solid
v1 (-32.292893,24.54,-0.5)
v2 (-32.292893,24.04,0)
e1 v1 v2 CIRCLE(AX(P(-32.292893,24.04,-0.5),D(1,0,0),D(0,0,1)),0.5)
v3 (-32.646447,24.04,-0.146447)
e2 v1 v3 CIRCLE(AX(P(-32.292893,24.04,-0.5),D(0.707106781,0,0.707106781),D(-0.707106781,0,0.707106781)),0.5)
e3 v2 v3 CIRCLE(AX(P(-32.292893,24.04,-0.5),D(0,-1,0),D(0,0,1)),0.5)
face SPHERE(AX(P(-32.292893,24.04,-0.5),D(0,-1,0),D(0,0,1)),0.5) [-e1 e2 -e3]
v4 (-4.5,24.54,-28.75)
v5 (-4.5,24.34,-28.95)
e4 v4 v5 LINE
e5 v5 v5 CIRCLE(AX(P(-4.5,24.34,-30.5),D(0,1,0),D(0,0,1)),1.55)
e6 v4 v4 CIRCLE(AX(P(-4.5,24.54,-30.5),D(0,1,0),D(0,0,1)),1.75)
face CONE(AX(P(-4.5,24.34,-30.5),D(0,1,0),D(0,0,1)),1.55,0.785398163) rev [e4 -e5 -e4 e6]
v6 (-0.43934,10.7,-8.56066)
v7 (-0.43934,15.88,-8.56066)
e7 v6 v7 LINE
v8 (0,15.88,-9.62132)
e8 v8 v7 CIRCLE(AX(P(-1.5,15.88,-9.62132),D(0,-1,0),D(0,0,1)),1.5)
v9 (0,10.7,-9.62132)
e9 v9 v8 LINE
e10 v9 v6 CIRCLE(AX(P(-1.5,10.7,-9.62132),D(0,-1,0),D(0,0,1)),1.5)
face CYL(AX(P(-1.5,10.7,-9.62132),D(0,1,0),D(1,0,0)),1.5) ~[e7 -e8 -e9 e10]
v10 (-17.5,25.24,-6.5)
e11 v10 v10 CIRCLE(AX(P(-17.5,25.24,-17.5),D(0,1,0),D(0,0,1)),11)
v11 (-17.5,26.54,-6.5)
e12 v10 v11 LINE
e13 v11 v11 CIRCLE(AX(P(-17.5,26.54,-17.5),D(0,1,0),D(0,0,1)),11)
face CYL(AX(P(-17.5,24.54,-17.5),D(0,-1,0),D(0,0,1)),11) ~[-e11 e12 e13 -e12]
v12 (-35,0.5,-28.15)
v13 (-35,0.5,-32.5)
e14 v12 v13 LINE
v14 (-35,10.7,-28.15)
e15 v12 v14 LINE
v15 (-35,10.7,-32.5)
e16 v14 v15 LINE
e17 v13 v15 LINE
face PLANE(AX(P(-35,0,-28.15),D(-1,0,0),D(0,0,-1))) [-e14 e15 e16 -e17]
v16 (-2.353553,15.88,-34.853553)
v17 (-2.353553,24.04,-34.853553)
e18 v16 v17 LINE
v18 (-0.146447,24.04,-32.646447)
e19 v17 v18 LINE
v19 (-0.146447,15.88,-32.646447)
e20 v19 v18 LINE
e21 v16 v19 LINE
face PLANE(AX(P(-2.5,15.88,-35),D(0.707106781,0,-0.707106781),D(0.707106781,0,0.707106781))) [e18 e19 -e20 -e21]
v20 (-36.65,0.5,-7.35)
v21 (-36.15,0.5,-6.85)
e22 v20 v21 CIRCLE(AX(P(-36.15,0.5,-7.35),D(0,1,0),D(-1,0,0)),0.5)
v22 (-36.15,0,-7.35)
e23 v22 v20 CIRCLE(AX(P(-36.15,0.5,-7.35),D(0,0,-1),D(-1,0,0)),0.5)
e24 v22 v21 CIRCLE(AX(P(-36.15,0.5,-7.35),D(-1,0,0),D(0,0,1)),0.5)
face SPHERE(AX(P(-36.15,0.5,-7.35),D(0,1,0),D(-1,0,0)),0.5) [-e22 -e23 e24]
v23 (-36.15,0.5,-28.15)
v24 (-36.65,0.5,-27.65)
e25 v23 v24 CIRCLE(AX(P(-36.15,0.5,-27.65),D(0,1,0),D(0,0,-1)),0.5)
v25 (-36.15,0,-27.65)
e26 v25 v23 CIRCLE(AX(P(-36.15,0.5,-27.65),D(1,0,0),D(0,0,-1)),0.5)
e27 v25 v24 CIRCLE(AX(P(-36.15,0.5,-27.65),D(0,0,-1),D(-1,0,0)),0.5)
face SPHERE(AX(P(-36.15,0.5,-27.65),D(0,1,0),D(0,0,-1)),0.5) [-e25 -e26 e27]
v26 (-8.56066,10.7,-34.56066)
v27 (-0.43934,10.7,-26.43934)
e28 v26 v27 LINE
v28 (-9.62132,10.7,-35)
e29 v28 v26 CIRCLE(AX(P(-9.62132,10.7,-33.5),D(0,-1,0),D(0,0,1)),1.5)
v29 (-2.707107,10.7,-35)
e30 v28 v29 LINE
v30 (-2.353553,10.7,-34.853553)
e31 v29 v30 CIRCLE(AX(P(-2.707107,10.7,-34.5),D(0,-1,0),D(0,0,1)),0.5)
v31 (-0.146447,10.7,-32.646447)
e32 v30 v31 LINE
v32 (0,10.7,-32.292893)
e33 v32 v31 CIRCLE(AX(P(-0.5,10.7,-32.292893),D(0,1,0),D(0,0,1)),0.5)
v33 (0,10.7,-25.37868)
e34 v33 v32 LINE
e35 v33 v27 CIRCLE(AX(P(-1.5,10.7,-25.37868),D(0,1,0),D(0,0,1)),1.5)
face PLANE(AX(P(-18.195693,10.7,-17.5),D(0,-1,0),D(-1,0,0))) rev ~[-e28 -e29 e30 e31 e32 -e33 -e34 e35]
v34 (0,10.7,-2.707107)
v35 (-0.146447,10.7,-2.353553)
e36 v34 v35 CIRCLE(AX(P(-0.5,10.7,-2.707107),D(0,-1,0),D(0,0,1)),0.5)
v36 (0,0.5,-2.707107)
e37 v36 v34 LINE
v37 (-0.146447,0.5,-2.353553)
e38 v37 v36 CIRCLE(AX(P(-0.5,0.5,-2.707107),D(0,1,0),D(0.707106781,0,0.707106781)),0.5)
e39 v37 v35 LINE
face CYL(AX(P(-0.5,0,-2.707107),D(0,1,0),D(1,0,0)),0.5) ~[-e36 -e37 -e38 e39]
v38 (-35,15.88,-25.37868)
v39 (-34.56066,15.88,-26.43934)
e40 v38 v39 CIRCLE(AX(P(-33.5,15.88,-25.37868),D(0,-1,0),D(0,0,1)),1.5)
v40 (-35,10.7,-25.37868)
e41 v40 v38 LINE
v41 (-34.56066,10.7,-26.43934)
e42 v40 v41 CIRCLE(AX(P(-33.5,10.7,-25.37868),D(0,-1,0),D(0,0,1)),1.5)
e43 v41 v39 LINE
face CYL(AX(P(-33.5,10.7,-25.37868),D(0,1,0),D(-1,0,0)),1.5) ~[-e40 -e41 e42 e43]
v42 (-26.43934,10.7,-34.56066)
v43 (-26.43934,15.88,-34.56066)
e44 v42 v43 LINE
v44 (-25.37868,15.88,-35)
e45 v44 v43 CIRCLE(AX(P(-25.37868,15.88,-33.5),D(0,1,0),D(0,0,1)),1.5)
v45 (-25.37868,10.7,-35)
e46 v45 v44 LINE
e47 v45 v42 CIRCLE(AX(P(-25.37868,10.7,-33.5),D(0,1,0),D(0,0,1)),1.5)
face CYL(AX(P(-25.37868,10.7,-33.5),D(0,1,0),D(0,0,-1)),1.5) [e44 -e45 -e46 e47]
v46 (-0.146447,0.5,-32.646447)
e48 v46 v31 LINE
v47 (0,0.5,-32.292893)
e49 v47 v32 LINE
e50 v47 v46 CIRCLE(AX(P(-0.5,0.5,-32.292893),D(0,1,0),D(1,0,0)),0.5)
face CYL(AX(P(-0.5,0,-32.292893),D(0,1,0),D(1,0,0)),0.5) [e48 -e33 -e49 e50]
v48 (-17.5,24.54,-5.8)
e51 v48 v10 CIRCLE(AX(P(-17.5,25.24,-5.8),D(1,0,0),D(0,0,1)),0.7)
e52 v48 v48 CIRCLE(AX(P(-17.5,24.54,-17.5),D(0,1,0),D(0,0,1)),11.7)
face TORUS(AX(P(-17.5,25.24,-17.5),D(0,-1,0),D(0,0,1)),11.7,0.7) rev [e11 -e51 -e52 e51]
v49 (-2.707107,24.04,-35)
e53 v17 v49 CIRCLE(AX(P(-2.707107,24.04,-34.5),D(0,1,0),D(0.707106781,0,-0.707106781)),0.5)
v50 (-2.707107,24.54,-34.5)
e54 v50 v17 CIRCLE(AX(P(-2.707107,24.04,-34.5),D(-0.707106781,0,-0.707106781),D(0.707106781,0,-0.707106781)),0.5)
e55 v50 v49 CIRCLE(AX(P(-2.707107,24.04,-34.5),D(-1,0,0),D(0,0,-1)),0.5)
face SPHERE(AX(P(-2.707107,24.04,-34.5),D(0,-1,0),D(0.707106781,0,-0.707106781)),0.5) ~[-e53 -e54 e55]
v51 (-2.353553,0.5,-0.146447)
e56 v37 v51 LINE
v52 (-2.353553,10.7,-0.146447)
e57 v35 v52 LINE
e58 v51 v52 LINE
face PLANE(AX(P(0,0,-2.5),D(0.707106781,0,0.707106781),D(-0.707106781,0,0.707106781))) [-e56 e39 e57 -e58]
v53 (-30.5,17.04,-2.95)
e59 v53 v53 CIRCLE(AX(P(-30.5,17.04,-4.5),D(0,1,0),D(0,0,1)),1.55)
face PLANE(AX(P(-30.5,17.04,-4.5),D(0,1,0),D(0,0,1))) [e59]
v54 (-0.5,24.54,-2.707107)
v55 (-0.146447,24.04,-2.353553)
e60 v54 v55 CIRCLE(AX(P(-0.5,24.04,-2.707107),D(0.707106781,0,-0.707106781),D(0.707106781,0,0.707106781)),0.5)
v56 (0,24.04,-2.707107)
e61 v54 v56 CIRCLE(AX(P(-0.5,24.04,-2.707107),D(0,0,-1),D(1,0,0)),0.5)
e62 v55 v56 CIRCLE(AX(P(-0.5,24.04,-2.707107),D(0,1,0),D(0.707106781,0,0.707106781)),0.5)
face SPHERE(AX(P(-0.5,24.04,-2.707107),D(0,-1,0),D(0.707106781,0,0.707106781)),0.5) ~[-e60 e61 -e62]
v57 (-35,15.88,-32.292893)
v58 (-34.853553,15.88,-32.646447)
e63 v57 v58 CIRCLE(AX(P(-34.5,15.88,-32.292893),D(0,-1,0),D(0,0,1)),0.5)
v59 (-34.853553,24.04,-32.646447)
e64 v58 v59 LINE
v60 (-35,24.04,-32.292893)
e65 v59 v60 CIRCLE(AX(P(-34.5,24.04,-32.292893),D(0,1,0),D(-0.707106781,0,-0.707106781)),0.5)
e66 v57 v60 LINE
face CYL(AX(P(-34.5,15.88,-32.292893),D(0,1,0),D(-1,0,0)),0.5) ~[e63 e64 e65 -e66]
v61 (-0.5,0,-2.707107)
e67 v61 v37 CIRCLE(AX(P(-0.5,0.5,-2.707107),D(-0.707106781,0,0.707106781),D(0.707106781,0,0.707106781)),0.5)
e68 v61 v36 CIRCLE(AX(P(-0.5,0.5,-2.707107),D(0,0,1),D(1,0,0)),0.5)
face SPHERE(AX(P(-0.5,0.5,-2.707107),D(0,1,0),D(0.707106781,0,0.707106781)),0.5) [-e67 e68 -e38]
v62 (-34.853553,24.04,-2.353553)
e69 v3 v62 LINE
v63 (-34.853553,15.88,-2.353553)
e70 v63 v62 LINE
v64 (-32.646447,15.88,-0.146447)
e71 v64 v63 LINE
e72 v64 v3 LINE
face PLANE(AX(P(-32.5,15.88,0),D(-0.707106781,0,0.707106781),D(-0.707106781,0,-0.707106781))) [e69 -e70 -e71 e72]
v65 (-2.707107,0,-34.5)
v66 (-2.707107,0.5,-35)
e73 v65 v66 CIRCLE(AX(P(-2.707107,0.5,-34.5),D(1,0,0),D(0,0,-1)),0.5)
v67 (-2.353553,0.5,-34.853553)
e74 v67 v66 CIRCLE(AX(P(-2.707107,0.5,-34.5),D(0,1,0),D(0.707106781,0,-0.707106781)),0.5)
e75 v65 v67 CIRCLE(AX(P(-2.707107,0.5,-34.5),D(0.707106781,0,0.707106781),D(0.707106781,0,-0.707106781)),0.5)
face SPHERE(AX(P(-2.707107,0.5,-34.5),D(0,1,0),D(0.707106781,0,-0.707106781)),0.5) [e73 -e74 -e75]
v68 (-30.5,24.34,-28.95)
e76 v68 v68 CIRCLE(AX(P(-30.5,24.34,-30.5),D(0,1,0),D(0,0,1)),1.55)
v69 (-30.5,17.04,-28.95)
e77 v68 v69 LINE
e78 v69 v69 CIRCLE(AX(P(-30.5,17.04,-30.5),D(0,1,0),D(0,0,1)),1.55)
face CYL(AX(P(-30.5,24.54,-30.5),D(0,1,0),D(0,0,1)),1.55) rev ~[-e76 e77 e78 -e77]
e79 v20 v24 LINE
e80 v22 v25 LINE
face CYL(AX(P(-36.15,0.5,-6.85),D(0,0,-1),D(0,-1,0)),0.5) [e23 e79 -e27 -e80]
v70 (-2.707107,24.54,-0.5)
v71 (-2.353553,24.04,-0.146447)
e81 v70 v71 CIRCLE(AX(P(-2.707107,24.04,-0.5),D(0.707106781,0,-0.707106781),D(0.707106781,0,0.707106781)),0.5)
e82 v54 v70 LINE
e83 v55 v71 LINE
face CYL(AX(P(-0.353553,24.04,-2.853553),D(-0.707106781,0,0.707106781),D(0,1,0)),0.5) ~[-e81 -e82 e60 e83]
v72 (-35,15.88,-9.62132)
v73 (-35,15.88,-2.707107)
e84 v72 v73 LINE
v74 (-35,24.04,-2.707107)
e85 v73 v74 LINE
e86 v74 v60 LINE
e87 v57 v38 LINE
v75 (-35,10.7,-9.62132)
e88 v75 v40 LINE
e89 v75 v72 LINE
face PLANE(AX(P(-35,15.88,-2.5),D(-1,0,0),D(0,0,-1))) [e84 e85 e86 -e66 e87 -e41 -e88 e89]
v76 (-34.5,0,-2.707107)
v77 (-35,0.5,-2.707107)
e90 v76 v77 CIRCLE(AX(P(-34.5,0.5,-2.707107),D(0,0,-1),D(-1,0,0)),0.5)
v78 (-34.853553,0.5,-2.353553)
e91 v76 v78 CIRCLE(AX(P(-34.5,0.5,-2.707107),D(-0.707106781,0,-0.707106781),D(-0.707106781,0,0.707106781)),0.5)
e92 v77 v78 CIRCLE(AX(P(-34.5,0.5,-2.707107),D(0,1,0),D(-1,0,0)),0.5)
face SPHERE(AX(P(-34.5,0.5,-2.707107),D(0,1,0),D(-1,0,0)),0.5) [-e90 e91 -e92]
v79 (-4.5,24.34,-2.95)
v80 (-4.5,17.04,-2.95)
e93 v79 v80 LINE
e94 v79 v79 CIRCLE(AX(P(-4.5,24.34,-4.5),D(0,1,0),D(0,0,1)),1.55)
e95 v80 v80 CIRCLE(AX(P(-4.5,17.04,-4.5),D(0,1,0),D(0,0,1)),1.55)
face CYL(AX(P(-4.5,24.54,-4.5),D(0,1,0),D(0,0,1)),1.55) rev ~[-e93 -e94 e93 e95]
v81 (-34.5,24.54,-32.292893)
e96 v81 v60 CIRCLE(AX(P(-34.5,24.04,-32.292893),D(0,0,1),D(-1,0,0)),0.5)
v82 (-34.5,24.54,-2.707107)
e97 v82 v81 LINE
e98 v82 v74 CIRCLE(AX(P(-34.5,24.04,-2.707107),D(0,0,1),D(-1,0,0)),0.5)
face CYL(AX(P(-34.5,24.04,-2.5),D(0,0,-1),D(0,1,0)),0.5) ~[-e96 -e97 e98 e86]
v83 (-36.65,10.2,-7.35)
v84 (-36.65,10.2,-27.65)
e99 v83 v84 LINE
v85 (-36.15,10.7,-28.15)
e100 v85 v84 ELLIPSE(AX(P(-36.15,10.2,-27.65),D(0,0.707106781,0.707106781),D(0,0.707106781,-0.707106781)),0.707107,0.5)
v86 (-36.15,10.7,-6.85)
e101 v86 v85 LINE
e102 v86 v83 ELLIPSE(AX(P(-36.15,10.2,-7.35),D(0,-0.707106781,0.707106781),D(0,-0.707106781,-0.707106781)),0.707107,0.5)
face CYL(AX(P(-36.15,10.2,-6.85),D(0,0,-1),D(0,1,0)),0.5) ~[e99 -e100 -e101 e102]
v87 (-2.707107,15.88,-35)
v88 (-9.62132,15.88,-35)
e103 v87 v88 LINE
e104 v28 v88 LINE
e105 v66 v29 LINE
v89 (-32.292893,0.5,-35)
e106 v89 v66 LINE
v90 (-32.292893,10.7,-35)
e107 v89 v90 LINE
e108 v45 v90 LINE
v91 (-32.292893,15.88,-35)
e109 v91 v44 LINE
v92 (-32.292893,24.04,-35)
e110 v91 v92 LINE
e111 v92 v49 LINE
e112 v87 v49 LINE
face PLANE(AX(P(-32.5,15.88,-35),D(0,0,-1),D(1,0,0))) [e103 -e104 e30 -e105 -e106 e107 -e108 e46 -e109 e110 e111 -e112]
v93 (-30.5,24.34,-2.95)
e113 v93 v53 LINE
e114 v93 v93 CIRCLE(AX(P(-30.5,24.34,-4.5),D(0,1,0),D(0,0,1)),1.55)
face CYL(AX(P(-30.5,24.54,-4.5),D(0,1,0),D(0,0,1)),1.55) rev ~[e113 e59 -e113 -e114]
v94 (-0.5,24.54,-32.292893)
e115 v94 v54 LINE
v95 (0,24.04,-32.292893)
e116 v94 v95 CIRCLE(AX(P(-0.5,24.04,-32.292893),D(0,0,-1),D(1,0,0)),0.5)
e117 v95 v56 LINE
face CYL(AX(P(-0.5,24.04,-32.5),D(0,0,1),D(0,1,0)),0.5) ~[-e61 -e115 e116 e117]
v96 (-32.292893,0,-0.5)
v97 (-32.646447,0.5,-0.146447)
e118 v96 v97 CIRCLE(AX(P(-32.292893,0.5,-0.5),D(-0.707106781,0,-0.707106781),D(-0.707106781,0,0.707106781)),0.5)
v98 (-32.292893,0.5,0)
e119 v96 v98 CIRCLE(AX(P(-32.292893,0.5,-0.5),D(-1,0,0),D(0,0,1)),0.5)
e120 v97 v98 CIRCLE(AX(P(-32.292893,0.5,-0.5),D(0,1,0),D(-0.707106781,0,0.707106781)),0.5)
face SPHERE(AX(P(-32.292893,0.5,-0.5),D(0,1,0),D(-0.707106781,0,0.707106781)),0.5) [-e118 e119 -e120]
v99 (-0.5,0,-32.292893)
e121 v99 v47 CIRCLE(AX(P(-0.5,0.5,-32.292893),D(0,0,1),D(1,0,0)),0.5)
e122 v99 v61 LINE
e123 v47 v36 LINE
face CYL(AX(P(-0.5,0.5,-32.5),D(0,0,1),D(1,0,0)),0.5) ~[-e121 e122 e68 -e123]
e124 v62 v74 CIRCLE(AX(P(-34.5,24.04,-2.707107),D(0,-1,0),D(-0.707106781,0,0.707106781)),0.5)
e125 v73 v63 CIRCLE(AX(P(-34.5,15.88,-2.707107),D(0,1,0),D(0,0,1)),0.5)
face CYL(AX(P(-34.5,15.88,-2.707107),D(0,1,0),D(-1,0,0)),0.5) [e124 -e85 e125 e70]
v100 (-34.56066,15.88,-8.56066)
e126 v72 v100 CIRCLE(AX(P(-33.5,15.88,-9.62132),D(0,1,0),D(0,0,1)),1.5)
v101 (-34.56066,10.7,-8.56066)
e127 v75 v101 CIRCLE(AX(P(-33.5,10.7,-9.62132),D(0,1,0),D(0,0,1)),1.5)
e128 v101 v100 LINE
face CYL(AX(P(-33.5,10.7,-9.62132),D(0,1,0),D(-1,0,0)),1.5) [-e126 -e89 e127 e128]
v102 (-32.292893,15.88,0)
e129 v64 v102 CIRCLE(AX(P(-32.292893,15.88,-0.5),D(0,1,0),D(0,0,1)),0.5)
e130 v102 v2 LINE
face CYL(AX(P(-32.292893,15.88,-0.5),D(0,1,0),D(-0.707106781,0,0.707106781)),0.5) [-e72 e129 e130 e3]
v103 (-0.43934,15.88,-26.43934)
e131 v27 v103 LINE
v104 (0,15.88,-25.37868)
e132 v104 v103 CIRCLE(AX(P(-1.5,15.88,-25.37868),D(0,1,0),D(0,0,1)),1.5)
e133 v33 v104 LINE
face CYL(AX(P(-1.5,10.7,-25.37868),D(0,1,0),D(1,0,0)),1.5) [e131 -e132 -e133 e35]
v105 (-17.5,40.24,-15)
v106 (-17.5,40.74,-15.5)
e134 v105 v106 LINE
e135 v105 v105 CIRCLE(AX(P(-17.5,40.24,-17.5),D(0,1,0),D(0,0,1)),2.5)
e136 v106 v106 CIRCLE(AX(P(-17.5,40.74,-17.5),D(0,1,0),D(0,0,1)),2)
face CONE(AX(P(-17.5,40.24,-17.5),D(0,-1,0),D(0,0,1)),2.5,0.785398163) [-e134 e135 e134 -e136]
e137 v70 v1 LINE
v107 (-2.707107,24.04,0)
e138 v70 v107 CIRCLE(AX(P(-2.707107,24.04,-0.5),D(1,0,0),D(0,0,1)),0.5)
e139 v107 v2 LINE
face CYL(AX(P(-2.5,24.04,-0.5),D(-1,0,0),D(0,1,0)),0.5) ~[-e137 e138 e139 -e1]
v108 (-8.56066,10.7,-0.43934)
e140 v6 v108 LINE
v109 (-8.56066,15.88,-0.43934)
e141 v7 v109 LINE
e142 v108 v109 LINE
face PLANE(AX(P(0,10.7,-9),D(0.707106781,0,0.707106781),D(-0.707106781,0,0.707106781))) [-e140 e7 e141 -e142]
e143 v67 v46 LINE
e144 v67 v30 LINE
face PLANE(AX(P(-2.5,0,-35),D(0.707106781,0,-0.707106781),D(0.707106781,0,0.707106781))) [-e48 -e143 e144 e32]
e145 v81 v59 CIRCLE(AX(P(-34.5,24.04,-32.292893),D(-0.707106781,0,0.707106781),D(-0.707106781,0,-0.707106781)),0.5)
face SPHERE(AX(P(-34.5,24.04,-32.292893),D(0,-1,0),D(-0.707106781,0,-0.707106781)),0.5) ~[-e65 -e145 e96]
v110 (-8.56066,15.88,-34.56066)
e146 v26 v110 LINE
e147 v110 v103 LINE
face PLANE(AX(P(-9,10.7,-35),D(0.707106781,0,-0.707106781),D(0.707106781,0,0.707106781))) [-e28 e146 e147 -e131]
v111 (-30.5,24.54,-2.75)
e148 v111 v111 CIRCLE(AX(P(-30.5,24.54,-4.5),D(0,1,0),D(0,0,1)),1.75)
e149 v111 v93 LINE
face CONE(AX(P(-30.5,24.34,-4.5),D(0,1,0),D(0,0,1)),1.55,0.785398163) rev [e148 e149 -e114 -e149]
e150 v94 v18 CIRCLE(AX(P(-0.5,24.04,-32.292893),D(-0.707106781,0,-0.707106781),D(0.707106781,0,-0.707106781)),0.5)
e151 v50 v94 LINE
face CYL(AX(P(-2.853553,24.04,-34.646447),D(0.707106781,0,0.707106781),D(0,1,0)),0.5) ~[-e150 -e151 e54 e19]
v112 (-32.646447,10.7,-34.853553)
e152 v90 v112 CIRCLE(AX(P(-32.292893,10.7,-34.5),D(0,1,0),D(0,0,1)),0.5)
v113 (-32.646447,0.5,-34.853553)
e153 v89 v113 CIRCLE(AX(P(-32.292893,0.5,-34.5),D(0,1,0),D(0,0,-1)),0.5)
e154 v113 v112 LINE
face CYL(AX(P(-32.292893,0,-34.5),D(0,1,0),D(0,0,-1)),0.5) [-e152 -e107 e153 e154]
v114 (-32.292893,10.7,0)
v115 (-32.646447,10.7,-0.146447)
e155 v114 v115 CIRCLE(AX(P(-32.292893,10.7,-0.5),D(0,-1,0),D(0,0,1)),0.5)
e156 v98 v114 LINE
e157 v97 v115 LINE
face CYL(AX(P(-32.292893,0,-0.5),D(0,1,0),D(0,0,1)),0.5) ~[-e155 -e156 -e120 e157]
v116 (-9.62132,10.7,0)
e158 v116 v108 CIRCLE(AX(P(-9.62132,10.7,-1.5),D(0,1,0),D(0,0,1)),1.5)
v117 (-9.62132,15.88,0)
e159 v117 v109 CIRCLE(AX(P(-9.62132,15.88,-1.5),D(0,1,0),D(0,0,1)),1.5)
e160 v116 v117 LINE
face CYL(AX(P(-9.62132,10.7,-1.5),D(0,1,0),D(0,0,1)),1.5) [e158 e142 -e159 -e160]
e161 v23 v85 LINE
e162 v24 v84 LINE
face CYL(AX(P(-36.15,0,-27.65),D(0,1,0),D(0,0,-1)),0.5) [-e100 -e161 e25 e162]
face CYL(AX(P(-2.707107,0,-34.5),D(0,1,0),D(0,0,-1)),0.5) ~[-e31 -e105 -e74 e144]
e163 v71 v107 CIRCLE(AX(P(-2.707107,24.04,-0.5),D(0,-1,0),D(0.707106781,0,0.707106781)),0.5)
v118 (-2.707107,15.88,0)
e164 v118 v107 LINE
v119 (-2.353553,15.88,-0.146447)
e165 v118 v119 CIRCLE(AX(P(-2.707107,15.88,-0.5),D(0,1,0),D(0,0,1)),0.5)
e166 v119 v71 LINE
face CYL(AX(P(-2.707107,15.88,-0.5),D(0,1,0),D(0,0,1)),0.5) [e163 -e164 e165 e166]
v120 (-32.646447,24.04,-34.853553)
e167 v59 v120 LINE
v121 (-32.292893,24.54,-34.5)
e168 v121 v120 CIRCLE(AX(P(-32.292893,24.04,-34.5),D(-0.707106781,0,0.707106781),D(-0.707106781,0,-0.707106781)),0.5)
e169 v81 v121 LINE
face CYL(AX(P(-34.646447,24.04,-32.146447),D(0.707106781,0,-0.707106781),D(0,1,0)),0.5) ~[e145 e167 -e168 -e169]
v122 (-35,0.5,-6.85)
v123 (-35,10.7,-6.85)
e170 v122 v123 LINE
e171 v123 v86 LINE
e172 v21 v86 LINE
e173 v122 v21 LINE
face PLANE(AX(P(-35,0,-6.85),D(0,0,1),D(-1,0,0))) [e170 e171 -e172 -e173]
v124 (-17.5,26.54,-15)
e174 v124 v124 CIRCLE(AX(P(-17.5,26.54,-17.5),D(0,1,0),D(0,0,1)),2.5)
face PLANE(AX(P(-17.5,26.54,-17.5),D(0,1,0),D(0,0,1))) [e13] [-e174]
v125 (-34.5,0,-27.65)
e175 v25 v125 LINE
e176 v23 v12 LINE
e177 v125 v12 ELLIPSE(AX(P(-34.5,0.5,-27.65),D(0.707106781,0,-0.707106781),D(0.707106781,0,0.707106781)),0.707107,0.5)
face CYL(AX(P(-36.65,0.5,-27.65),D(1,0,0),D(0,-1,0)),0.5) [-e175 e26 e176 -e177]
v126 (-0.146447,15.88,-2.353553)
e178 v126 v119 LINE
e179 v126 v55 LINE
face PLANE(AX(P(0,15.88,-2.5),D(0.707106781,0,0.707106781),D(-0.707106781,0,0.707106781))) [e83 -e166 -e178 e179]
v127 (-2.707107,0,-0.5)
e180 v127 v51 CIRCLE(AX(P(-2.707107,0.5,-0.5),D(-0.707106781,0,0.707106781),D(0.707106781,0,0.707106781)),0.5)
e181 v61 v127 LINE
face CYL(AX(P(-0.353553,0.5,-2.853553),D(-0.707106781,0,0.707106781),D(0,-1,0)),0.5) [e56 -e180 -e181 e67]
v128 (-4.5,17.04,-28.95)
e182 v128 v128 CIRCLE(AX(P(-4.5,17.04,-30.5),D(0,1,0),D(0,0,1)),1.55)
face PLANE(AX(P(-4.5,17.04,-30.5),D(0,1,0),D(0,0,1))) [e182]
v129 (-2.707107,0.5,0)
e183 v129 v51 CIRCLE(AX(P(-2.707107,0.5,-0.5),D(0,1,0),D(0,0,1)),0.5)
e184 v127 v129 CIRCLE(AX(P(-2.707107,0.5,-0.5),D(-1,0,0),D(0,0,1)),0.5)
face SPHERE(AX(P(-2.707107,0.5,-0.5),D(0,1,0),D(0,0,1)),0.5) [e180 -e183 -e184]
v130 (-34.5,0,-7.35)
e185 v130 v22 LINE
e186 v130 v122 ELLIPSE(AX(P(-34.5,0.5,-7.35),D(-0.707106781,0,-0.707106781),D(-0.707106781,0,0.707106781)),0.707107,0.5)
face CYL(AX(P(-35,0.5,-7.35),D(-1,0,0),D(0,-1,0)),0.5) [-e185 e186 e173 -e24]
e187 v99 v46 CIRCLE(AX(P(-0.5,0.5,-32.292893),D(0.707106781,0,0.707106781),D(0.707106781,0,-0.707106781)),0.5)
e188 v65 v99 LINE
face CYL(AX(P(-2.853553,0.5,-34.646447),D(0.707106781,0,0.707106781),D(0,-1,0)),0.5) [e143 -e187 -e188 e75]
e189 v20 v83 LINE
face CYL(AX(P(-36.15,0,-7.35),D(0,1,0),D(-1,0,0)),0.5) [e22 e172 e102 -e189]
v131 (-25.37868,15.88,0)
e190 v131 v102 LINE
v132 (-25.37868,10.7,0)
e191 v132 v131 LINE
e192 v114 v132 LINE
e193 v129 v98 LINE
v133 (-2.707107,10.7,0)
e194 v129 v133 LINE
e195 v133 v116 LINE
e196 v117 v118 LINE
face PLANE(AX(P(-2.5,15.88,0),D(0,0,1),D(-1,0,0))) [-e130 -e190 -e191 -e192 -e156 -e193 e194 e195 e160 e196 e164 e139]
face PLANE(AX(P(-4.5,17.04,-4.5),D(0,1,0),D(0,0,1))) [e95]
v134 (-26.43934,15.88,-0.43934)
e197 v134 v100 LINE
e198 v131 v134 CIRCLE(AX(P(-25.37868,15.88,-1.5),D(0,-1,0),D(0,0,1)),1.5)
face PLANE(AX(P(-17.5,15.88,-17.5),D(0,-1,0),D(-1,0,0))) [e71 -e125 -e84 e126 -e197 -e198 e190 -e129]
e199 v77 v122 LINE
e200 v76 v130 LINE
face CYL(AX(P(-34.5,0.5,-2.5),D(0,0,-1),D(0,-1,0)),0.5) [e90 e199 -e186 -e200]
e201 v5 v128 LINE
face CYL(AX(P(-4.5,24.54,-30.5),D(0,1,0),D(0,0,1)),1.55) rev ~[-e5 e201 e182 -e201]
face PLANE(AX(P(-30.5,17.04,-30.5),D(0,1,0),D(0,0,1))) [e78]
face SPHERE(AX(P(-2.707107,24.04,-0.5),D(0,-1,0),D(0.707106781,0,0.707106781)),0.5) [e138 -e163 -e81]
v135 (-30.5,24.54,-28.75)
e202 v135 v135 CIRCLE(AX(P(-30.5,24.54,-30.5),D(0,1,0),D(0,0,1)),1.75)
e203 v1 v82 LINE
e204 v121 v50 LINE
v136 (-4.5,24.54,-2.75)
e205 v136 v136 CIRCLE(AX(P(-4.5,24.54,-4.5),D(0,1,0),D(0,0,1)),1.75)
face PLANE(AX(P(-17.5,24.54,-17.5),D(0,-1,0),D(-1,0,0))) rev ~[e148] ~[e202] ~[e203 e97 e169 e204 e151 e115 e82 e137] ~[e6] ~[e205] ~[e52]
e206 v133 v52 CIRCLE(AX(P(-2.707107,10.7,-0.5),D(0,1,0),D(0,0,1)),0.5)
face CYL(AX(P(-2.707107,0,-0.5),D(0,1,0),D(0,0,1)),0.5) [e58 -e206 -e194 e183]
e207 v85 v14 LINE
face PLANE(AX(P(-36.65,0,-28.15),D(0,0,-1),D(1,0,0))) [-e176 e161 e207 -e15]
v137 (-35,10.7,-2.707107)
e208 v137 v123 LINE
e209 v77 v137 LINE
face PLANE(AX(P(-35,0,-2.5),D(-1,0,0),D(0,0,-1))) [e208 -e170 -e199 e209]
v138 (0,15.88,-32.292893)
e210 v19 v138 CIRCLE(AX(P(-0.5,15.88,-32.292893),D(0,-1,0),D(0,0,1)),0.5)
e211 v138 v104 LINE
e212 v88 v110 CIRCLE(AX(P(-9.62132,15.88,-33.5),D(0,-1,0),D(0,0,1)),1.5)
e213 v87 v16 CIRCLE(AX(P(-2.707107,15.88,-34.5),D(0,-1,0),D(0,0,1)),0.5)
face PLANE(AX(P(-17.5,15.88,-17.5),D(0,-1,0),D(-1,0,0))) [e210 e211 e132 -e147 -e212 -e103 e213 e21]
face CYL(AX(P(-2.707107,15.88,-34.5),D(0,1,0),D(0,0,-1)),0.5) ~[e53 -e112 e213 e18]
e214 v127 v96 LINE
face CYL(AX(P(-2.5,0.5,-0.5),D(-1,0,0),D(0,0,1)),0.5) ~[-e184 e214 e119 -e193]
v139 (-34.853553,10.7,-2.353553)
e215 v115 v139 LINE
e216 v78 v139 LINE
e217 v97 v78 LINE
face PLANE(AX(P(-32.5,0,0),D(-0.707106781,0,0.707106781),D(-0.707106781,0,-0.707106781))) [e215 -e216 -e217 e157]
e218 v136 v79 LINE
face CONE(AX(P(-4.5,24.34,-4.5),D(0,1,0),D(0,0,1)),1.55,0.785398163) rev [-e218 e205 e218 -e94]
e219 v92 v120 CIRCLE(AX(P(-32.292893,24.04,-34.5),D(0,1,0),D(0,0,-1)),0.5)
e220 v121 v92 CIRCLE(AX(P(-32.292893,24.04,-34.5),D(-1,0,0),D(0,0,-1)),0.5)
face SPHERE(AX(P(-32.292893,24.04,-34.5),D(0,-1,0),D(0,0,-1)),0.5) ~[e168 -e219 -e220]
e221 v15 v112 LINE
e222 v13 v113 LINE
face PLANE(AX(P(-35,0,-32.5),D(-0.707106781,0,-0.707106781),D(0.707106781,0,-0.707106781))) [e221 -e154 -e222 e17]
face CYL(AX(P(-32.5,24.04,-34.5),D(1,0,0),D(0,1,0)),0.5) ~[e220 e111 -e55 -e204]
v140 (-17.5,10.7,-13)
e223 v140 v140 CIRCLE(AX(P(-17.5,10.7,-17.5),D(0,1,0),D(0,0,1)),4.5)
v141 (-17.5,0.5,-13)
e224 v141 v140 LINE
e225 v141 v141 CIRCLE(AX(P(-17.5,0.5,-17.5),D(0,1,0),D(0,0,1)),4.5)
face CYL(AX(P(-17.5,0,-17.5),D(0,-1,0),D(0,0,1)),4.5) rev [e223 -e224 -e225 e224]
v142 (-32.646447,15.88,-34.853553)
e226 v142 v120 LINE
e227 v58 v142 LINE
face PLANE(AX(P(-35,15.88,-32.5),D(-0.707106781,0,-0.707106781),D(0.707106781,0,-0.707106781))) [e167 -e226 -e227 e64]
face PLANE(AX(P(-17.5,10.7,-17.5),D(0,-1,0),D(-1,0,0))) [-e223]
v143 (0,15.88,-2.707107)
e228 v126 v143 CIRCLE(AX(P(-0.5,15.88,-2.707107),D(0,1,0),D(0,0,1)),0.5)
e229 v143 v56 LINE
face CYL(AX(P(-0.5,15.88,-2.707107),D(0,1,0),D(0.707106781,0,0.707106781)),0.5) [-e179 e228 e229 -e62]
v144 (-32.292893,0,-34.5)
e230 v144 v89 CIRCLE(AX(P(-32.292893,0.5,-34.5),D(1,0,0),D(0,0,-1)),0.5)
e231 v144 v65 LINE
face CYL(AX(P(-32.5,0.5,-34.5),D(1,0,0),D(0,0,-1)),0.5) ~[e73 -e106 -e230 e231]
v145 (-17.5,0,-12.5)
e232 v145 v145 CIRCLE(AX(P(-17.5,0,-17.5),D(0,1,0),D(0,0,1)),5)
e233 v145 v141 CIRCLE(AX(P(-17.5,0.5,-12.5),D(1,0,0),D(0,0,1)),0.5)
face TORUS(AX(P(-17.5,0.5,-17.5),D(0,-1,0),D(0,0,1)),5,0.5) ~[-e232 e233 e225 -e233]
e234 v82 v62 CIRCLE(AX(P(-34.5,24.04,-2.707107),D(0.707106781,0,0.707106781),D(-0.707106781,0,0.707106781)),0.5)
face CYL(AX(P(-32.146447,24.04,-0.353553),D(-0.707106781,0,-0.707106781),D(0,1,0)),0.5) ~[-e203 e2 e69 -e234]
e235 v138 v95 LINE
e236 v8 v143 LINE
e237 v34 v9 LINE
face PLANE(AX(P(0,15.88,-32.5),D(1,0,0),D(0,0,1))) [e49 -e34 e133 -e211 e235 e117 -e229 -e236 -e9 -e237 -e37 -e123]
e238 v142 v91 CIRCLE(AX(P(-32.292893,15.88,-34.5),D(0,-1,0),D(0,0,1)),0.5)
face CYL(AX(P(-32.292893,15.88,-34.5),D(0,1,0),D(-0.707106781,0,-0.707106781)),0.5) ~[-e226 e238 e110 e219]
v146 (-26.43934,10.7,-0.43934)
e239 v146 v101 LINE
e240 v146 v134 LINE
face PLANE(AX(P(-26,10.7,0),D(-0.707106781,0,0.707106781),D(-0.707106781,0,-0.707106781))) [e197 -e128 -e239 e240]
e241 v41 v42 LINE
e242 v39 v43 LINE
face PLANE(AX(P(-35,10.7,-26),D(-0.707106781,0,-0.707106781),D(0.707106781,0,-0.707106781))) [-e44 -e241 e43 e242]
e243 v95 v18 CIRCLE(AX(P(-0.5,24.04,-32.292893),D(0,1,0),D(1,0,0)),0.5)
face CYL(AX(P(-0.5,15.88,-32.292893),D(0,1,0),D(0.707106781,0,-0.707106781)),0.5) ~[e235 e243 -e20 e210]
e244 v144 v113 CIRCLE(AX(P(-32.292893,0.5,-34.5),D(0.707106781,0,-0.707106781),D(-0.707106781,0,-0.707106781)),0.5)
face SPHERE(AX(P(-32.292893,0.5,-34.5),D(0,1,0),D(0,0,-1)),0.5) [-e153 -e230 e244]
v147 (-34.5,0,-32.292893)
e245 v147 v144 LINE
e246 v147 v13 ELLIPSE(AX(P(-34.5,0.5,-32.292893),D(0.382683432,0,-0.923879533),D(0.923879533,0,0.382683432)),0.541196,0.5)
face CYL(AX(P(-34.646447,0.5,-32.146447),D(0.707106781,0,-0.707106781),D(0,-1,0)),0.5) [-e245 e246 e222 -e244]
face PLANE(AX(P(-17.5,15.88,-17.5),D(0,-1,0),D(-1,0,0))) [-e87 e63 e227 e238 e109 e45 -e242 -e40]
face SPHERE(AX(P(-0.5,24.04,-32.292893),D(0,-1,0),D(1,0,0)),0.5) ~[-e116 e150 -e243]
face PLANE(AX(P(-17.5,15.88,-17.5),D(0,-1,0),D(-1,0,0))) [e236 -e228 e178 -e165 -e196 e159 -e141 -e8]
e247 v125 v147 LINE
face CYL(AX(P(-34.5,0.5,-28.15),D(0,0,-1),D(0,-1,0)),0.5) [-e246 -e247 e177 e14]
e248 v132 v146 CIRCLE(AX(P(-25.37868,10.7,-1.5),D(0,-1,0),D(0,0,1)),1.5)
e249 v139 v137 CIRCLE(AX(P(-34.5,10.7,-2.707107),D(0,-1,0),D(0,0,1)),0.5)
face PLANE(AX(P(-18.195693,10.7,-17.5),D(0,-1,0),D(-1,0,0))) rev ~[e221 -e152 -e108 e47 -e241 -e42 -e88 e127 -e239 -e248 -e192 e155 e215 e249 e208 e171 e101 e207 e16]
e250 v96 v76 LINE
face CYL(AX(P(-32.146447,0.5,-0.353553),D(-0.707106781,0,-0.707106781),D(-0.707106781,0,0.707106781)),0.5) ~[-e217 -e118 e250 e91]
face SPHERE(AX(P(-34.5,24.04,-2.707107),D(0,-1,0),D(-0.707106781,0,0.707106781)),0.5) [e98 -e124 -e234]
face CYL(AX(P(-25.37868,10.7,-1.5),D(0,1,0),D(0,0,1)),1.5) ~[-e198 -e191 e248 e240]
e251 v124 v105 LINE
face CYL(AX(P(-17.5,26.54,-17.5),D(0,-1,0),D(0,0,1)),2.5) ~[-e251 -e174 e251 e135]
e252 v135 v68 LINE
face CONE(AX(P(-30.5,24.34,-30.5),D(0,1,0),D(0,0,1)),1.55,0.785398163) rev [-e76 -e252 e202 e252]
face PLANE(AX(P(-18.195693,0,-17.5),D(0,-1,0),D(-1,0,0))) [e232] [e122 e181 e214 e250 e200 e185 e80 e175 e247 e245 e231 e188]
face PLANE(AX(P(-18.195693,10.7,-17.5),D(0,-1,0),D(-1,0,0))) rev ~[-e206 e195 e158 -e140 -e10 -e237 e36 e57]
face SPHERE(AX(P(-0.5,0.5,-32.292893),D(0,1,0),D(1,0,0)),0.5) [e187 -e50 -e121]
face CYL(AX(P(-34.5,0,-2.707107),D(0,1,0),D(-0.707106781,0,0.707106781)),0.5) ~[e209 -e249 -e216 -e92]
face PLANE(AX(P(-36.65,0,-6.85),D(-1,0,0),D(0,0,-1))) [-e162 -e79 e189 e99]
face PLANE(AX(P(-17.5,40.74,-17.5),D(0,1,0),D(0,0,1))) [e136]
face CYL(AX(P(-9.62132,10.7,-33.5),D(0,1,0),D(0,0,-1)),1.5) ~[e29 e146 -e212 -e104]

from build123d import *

# Parameters (mm, degrees)
SKETCH1_R           = 4.5
BOSS_EXTRUDE1_DEPTH = 10.7
BOSS_EXTRUDE2_DEPTH = 5.18
BOSS_EXTRUDE3_DEPTH = 8.66
SKETCH5_R           = 1.55
CUT_EXTRUDE1_DEPTH  = 7.5
SKETCH6_R           = 11
BOSS_EXTRUDE4_DEPTH = 2
SKETCH7_R           = 2.5
BOSS_EXTRUDE5_DEPTH = 14.2
CHAMFER1_SIZE       = 0.2
FILLET1_R           = 0.5
FILLET2_R           = 0.7
CHAMFER2_SIZE       = 0.5
FILLET3_R           = 1.5


with BuildPart() as part:
    # Sketch1 → Boss-Extrude1 (new body)
    with BuildSketch(Plane(origin=(0, 0, 0), x_dir=(1, 0, 0), z_dir=(0, 1, 0))):
        Polygon((-35, 32.5), (-32.5, 35), (-2.5, 35), (0, 32.5), (0, 2.5), (-2.5, 0), (-32.5, 0), (-35, 2.5), (-35, 6.85), (-36.65, 6.85), (-36.65, 28.15), (-35, 28.15), align=None)
        with Locations(Location((-17.5, 17.5, 0), (0, 0, 270))):
            Circle(SKETCH1_R, mode=Mode.SUBTRACT)
    extrude(amount=BOSS_EXTRUDE1_DEPTH)

    # Sketch2 → Boss-Extrude2 (add)
    with BuildSketch(Plane(origin=(0, 10.7, 0), x_dir=(1, 0, 0), z_dir=(0, 1, 0))):
        Polygon((-26, 35), (-9, 35), (0, 26), (0, 9), (-9, 0), (-26, 0), (-35, 9), (-35, 26), align=None)
    extrude(amount=BOSS_EXTRUDE2_DEPTH)

    # Sketch3 → Boss-Extrude3 (add)
    with BuildSketch(Plane(origin=(0, 15.88, 0), x_dir=(1, 0, 0), z_dir=(0, 1, 0))):
        Polygon((-35, 2.5), (-35, 32.5), (-32.5, 35), (-2.5, 35), (0, 32.5), (0, 2.5), (-2.5, 0), (-32.5, 0), align=None)
    extrude(amount=BOSS_EXTRUDE3_DEPTH)

    # Sketch5 → Cut-Extrude1 (cut)
    with BuildSketch(Plane(origin=(0, 24.54, 0), x_dir=(1, 0, 0), z_dir=(0, 1, 0))):
        with Locations(Location((-30.5, 4.5, 0), (0, 0, 270))):
            Circle(SKETCH5_R)
        with Locations(Location((-4.5, 30.5, 0), (0, 0, 270))):
            Circle(SKETCH5_R)
        with Locations(Location((-30.5, 30.5, 0), (0, 0, 270))):
            Circle(SKETCH5_R)
        with Locations(Location((-4.5, 4.5, 0), (0, 0, 270))):
            Circle(SKETCH5_R)
    extrude(amount=-CUT_EXTRUDE1_DEPTH, mode=Mode.SUBTRACT)

    # Sketch6 → Boss-Extrude4 (add)
    with BuildSketch(Plane(origin=(0, 24.54, 0), x_dir=(1, 0, 0), z_dir=(0, 1, 0))):
        with Locations(Location((-17.5, 17.5, 0), (0, 0, 270))):
            Circle(SKETCH6_R)
    extrude(amount=BOSS_EXTRUDE4_DEPTH)

    # Sketch7 → Boss-Extrude5 (add)
    with BuildSketch(Plane(origin=(0, 26.54, 0), x_dir=(1, 0, 0), z_dir=(0, 1, 0))):
        with Locations(Location((-17.5, 17.5, 0), (0, 0, 270))):
            Circle(SKETCH7_R)
    extrude(amount=BOSS_EXTRUDE5_DEPTH)

    # Chamfer1
    chamfer1_edges = [part.edges().sort_by_distance(p)[0] for p in [
        (-4.5, 24.54, -6.05),
        (-30.5, 24.54, -32.05),
        (-4.5, 24.54, -32.05),
        (-30.5, 24.54, -6.05),
    ]]
    chamfer(chamfer1_edges, length=CHAMFER1_SIZE)

    # Fillet1
    fillet1_edges = [part.edges().sort_by_distance(p)[0] for p in [
        (-36.65, 5.35, -28.15),
        (-36.65, 10.7, -17.5),
        (-36.65, 5.35, -6.85),
        (-17.5, 0, -22),
        (-35.825, 0, -28.15),
        (-36.65, 0, -17.5),
        (-35.825, 0, -6.85),
        (-35, 0, -4.675),
        (-33.75, 0, -1.25),
        (-17.5, 0, 0),
        (-1.25, 0, -1.25),
        (0, 0, -17.5),
        (-1.25, 0, -33.75),
        (-17.5, 0, -35),
        (-33.75, 0, -33.75),
        (-2.5, 5.35, -35),
        (0, 5.35, -32.5),
        (-32.5, 5.35, -35),
        (0, 5.35, -2.5),
        (-2.5, 5.35, 0),
        (-32.5, 5.35, 0),
        (-35, 5.35, -2.5),
        (-35, 20.21, -32.5),
        (-33.75, 24.54, -33.75),
        (-32.5, 20.21, -35),
        (-17.5, 24.54, -35),
        (-2.5, 20.21, -35),
        (0, 20.21, -32.5),
        (0, 24.54, -17.5),
        (-1.25, 24.54, -33.75),
        (0, 20.21, -2.5),
        (-2.5, 20.21, 0),
        (-35, 20.21, -2.5),
        (-32.5, 20.21, 0),
        (-1.25, 24.54, -1.25),
        (-17.5, 24.54, 0),
        (-33.75, 24.54, -1.25),
        (-35, 24.54, -17.5),
        (-35, 0, -30.325),
    ]]
    fillet(fillet1_edges, radius=FILLET1_R)

    # Fillet2
    fillet2_edges = [part.edges().sort_by_distance(p)[0] for p in [
        (-17.5, 24.54, -28.5),
    ]]
    fillet(fillet2_edges, radius=FILLET2_R)

    # Chamfer2
    chamfer2_edges = [part.edges().sort_by_distance(p)[0] for p in [
        (-17.5, 40.74, -20),
    ]]
    chamfer(chamfer2_edges, length=CHAMFER2_SIZE)

    # Fillet3
    fillet3_edges = [part.edges().sort_by_distance(p)[0] for p in [
        (-26, 13.29, -35),
        (-35, 13.29, -26),
        (-35, 13.29, -9),
        (-26, 13.29, 0),
        (-9, 13.29, 0),
        (0, 13.29, -9),
        (0, 13.29, -26),
        (-9, 13.29, -35),
    ]]
    fillet(fillet3_edges, radius=FILLET3_R)


solid = part.part
